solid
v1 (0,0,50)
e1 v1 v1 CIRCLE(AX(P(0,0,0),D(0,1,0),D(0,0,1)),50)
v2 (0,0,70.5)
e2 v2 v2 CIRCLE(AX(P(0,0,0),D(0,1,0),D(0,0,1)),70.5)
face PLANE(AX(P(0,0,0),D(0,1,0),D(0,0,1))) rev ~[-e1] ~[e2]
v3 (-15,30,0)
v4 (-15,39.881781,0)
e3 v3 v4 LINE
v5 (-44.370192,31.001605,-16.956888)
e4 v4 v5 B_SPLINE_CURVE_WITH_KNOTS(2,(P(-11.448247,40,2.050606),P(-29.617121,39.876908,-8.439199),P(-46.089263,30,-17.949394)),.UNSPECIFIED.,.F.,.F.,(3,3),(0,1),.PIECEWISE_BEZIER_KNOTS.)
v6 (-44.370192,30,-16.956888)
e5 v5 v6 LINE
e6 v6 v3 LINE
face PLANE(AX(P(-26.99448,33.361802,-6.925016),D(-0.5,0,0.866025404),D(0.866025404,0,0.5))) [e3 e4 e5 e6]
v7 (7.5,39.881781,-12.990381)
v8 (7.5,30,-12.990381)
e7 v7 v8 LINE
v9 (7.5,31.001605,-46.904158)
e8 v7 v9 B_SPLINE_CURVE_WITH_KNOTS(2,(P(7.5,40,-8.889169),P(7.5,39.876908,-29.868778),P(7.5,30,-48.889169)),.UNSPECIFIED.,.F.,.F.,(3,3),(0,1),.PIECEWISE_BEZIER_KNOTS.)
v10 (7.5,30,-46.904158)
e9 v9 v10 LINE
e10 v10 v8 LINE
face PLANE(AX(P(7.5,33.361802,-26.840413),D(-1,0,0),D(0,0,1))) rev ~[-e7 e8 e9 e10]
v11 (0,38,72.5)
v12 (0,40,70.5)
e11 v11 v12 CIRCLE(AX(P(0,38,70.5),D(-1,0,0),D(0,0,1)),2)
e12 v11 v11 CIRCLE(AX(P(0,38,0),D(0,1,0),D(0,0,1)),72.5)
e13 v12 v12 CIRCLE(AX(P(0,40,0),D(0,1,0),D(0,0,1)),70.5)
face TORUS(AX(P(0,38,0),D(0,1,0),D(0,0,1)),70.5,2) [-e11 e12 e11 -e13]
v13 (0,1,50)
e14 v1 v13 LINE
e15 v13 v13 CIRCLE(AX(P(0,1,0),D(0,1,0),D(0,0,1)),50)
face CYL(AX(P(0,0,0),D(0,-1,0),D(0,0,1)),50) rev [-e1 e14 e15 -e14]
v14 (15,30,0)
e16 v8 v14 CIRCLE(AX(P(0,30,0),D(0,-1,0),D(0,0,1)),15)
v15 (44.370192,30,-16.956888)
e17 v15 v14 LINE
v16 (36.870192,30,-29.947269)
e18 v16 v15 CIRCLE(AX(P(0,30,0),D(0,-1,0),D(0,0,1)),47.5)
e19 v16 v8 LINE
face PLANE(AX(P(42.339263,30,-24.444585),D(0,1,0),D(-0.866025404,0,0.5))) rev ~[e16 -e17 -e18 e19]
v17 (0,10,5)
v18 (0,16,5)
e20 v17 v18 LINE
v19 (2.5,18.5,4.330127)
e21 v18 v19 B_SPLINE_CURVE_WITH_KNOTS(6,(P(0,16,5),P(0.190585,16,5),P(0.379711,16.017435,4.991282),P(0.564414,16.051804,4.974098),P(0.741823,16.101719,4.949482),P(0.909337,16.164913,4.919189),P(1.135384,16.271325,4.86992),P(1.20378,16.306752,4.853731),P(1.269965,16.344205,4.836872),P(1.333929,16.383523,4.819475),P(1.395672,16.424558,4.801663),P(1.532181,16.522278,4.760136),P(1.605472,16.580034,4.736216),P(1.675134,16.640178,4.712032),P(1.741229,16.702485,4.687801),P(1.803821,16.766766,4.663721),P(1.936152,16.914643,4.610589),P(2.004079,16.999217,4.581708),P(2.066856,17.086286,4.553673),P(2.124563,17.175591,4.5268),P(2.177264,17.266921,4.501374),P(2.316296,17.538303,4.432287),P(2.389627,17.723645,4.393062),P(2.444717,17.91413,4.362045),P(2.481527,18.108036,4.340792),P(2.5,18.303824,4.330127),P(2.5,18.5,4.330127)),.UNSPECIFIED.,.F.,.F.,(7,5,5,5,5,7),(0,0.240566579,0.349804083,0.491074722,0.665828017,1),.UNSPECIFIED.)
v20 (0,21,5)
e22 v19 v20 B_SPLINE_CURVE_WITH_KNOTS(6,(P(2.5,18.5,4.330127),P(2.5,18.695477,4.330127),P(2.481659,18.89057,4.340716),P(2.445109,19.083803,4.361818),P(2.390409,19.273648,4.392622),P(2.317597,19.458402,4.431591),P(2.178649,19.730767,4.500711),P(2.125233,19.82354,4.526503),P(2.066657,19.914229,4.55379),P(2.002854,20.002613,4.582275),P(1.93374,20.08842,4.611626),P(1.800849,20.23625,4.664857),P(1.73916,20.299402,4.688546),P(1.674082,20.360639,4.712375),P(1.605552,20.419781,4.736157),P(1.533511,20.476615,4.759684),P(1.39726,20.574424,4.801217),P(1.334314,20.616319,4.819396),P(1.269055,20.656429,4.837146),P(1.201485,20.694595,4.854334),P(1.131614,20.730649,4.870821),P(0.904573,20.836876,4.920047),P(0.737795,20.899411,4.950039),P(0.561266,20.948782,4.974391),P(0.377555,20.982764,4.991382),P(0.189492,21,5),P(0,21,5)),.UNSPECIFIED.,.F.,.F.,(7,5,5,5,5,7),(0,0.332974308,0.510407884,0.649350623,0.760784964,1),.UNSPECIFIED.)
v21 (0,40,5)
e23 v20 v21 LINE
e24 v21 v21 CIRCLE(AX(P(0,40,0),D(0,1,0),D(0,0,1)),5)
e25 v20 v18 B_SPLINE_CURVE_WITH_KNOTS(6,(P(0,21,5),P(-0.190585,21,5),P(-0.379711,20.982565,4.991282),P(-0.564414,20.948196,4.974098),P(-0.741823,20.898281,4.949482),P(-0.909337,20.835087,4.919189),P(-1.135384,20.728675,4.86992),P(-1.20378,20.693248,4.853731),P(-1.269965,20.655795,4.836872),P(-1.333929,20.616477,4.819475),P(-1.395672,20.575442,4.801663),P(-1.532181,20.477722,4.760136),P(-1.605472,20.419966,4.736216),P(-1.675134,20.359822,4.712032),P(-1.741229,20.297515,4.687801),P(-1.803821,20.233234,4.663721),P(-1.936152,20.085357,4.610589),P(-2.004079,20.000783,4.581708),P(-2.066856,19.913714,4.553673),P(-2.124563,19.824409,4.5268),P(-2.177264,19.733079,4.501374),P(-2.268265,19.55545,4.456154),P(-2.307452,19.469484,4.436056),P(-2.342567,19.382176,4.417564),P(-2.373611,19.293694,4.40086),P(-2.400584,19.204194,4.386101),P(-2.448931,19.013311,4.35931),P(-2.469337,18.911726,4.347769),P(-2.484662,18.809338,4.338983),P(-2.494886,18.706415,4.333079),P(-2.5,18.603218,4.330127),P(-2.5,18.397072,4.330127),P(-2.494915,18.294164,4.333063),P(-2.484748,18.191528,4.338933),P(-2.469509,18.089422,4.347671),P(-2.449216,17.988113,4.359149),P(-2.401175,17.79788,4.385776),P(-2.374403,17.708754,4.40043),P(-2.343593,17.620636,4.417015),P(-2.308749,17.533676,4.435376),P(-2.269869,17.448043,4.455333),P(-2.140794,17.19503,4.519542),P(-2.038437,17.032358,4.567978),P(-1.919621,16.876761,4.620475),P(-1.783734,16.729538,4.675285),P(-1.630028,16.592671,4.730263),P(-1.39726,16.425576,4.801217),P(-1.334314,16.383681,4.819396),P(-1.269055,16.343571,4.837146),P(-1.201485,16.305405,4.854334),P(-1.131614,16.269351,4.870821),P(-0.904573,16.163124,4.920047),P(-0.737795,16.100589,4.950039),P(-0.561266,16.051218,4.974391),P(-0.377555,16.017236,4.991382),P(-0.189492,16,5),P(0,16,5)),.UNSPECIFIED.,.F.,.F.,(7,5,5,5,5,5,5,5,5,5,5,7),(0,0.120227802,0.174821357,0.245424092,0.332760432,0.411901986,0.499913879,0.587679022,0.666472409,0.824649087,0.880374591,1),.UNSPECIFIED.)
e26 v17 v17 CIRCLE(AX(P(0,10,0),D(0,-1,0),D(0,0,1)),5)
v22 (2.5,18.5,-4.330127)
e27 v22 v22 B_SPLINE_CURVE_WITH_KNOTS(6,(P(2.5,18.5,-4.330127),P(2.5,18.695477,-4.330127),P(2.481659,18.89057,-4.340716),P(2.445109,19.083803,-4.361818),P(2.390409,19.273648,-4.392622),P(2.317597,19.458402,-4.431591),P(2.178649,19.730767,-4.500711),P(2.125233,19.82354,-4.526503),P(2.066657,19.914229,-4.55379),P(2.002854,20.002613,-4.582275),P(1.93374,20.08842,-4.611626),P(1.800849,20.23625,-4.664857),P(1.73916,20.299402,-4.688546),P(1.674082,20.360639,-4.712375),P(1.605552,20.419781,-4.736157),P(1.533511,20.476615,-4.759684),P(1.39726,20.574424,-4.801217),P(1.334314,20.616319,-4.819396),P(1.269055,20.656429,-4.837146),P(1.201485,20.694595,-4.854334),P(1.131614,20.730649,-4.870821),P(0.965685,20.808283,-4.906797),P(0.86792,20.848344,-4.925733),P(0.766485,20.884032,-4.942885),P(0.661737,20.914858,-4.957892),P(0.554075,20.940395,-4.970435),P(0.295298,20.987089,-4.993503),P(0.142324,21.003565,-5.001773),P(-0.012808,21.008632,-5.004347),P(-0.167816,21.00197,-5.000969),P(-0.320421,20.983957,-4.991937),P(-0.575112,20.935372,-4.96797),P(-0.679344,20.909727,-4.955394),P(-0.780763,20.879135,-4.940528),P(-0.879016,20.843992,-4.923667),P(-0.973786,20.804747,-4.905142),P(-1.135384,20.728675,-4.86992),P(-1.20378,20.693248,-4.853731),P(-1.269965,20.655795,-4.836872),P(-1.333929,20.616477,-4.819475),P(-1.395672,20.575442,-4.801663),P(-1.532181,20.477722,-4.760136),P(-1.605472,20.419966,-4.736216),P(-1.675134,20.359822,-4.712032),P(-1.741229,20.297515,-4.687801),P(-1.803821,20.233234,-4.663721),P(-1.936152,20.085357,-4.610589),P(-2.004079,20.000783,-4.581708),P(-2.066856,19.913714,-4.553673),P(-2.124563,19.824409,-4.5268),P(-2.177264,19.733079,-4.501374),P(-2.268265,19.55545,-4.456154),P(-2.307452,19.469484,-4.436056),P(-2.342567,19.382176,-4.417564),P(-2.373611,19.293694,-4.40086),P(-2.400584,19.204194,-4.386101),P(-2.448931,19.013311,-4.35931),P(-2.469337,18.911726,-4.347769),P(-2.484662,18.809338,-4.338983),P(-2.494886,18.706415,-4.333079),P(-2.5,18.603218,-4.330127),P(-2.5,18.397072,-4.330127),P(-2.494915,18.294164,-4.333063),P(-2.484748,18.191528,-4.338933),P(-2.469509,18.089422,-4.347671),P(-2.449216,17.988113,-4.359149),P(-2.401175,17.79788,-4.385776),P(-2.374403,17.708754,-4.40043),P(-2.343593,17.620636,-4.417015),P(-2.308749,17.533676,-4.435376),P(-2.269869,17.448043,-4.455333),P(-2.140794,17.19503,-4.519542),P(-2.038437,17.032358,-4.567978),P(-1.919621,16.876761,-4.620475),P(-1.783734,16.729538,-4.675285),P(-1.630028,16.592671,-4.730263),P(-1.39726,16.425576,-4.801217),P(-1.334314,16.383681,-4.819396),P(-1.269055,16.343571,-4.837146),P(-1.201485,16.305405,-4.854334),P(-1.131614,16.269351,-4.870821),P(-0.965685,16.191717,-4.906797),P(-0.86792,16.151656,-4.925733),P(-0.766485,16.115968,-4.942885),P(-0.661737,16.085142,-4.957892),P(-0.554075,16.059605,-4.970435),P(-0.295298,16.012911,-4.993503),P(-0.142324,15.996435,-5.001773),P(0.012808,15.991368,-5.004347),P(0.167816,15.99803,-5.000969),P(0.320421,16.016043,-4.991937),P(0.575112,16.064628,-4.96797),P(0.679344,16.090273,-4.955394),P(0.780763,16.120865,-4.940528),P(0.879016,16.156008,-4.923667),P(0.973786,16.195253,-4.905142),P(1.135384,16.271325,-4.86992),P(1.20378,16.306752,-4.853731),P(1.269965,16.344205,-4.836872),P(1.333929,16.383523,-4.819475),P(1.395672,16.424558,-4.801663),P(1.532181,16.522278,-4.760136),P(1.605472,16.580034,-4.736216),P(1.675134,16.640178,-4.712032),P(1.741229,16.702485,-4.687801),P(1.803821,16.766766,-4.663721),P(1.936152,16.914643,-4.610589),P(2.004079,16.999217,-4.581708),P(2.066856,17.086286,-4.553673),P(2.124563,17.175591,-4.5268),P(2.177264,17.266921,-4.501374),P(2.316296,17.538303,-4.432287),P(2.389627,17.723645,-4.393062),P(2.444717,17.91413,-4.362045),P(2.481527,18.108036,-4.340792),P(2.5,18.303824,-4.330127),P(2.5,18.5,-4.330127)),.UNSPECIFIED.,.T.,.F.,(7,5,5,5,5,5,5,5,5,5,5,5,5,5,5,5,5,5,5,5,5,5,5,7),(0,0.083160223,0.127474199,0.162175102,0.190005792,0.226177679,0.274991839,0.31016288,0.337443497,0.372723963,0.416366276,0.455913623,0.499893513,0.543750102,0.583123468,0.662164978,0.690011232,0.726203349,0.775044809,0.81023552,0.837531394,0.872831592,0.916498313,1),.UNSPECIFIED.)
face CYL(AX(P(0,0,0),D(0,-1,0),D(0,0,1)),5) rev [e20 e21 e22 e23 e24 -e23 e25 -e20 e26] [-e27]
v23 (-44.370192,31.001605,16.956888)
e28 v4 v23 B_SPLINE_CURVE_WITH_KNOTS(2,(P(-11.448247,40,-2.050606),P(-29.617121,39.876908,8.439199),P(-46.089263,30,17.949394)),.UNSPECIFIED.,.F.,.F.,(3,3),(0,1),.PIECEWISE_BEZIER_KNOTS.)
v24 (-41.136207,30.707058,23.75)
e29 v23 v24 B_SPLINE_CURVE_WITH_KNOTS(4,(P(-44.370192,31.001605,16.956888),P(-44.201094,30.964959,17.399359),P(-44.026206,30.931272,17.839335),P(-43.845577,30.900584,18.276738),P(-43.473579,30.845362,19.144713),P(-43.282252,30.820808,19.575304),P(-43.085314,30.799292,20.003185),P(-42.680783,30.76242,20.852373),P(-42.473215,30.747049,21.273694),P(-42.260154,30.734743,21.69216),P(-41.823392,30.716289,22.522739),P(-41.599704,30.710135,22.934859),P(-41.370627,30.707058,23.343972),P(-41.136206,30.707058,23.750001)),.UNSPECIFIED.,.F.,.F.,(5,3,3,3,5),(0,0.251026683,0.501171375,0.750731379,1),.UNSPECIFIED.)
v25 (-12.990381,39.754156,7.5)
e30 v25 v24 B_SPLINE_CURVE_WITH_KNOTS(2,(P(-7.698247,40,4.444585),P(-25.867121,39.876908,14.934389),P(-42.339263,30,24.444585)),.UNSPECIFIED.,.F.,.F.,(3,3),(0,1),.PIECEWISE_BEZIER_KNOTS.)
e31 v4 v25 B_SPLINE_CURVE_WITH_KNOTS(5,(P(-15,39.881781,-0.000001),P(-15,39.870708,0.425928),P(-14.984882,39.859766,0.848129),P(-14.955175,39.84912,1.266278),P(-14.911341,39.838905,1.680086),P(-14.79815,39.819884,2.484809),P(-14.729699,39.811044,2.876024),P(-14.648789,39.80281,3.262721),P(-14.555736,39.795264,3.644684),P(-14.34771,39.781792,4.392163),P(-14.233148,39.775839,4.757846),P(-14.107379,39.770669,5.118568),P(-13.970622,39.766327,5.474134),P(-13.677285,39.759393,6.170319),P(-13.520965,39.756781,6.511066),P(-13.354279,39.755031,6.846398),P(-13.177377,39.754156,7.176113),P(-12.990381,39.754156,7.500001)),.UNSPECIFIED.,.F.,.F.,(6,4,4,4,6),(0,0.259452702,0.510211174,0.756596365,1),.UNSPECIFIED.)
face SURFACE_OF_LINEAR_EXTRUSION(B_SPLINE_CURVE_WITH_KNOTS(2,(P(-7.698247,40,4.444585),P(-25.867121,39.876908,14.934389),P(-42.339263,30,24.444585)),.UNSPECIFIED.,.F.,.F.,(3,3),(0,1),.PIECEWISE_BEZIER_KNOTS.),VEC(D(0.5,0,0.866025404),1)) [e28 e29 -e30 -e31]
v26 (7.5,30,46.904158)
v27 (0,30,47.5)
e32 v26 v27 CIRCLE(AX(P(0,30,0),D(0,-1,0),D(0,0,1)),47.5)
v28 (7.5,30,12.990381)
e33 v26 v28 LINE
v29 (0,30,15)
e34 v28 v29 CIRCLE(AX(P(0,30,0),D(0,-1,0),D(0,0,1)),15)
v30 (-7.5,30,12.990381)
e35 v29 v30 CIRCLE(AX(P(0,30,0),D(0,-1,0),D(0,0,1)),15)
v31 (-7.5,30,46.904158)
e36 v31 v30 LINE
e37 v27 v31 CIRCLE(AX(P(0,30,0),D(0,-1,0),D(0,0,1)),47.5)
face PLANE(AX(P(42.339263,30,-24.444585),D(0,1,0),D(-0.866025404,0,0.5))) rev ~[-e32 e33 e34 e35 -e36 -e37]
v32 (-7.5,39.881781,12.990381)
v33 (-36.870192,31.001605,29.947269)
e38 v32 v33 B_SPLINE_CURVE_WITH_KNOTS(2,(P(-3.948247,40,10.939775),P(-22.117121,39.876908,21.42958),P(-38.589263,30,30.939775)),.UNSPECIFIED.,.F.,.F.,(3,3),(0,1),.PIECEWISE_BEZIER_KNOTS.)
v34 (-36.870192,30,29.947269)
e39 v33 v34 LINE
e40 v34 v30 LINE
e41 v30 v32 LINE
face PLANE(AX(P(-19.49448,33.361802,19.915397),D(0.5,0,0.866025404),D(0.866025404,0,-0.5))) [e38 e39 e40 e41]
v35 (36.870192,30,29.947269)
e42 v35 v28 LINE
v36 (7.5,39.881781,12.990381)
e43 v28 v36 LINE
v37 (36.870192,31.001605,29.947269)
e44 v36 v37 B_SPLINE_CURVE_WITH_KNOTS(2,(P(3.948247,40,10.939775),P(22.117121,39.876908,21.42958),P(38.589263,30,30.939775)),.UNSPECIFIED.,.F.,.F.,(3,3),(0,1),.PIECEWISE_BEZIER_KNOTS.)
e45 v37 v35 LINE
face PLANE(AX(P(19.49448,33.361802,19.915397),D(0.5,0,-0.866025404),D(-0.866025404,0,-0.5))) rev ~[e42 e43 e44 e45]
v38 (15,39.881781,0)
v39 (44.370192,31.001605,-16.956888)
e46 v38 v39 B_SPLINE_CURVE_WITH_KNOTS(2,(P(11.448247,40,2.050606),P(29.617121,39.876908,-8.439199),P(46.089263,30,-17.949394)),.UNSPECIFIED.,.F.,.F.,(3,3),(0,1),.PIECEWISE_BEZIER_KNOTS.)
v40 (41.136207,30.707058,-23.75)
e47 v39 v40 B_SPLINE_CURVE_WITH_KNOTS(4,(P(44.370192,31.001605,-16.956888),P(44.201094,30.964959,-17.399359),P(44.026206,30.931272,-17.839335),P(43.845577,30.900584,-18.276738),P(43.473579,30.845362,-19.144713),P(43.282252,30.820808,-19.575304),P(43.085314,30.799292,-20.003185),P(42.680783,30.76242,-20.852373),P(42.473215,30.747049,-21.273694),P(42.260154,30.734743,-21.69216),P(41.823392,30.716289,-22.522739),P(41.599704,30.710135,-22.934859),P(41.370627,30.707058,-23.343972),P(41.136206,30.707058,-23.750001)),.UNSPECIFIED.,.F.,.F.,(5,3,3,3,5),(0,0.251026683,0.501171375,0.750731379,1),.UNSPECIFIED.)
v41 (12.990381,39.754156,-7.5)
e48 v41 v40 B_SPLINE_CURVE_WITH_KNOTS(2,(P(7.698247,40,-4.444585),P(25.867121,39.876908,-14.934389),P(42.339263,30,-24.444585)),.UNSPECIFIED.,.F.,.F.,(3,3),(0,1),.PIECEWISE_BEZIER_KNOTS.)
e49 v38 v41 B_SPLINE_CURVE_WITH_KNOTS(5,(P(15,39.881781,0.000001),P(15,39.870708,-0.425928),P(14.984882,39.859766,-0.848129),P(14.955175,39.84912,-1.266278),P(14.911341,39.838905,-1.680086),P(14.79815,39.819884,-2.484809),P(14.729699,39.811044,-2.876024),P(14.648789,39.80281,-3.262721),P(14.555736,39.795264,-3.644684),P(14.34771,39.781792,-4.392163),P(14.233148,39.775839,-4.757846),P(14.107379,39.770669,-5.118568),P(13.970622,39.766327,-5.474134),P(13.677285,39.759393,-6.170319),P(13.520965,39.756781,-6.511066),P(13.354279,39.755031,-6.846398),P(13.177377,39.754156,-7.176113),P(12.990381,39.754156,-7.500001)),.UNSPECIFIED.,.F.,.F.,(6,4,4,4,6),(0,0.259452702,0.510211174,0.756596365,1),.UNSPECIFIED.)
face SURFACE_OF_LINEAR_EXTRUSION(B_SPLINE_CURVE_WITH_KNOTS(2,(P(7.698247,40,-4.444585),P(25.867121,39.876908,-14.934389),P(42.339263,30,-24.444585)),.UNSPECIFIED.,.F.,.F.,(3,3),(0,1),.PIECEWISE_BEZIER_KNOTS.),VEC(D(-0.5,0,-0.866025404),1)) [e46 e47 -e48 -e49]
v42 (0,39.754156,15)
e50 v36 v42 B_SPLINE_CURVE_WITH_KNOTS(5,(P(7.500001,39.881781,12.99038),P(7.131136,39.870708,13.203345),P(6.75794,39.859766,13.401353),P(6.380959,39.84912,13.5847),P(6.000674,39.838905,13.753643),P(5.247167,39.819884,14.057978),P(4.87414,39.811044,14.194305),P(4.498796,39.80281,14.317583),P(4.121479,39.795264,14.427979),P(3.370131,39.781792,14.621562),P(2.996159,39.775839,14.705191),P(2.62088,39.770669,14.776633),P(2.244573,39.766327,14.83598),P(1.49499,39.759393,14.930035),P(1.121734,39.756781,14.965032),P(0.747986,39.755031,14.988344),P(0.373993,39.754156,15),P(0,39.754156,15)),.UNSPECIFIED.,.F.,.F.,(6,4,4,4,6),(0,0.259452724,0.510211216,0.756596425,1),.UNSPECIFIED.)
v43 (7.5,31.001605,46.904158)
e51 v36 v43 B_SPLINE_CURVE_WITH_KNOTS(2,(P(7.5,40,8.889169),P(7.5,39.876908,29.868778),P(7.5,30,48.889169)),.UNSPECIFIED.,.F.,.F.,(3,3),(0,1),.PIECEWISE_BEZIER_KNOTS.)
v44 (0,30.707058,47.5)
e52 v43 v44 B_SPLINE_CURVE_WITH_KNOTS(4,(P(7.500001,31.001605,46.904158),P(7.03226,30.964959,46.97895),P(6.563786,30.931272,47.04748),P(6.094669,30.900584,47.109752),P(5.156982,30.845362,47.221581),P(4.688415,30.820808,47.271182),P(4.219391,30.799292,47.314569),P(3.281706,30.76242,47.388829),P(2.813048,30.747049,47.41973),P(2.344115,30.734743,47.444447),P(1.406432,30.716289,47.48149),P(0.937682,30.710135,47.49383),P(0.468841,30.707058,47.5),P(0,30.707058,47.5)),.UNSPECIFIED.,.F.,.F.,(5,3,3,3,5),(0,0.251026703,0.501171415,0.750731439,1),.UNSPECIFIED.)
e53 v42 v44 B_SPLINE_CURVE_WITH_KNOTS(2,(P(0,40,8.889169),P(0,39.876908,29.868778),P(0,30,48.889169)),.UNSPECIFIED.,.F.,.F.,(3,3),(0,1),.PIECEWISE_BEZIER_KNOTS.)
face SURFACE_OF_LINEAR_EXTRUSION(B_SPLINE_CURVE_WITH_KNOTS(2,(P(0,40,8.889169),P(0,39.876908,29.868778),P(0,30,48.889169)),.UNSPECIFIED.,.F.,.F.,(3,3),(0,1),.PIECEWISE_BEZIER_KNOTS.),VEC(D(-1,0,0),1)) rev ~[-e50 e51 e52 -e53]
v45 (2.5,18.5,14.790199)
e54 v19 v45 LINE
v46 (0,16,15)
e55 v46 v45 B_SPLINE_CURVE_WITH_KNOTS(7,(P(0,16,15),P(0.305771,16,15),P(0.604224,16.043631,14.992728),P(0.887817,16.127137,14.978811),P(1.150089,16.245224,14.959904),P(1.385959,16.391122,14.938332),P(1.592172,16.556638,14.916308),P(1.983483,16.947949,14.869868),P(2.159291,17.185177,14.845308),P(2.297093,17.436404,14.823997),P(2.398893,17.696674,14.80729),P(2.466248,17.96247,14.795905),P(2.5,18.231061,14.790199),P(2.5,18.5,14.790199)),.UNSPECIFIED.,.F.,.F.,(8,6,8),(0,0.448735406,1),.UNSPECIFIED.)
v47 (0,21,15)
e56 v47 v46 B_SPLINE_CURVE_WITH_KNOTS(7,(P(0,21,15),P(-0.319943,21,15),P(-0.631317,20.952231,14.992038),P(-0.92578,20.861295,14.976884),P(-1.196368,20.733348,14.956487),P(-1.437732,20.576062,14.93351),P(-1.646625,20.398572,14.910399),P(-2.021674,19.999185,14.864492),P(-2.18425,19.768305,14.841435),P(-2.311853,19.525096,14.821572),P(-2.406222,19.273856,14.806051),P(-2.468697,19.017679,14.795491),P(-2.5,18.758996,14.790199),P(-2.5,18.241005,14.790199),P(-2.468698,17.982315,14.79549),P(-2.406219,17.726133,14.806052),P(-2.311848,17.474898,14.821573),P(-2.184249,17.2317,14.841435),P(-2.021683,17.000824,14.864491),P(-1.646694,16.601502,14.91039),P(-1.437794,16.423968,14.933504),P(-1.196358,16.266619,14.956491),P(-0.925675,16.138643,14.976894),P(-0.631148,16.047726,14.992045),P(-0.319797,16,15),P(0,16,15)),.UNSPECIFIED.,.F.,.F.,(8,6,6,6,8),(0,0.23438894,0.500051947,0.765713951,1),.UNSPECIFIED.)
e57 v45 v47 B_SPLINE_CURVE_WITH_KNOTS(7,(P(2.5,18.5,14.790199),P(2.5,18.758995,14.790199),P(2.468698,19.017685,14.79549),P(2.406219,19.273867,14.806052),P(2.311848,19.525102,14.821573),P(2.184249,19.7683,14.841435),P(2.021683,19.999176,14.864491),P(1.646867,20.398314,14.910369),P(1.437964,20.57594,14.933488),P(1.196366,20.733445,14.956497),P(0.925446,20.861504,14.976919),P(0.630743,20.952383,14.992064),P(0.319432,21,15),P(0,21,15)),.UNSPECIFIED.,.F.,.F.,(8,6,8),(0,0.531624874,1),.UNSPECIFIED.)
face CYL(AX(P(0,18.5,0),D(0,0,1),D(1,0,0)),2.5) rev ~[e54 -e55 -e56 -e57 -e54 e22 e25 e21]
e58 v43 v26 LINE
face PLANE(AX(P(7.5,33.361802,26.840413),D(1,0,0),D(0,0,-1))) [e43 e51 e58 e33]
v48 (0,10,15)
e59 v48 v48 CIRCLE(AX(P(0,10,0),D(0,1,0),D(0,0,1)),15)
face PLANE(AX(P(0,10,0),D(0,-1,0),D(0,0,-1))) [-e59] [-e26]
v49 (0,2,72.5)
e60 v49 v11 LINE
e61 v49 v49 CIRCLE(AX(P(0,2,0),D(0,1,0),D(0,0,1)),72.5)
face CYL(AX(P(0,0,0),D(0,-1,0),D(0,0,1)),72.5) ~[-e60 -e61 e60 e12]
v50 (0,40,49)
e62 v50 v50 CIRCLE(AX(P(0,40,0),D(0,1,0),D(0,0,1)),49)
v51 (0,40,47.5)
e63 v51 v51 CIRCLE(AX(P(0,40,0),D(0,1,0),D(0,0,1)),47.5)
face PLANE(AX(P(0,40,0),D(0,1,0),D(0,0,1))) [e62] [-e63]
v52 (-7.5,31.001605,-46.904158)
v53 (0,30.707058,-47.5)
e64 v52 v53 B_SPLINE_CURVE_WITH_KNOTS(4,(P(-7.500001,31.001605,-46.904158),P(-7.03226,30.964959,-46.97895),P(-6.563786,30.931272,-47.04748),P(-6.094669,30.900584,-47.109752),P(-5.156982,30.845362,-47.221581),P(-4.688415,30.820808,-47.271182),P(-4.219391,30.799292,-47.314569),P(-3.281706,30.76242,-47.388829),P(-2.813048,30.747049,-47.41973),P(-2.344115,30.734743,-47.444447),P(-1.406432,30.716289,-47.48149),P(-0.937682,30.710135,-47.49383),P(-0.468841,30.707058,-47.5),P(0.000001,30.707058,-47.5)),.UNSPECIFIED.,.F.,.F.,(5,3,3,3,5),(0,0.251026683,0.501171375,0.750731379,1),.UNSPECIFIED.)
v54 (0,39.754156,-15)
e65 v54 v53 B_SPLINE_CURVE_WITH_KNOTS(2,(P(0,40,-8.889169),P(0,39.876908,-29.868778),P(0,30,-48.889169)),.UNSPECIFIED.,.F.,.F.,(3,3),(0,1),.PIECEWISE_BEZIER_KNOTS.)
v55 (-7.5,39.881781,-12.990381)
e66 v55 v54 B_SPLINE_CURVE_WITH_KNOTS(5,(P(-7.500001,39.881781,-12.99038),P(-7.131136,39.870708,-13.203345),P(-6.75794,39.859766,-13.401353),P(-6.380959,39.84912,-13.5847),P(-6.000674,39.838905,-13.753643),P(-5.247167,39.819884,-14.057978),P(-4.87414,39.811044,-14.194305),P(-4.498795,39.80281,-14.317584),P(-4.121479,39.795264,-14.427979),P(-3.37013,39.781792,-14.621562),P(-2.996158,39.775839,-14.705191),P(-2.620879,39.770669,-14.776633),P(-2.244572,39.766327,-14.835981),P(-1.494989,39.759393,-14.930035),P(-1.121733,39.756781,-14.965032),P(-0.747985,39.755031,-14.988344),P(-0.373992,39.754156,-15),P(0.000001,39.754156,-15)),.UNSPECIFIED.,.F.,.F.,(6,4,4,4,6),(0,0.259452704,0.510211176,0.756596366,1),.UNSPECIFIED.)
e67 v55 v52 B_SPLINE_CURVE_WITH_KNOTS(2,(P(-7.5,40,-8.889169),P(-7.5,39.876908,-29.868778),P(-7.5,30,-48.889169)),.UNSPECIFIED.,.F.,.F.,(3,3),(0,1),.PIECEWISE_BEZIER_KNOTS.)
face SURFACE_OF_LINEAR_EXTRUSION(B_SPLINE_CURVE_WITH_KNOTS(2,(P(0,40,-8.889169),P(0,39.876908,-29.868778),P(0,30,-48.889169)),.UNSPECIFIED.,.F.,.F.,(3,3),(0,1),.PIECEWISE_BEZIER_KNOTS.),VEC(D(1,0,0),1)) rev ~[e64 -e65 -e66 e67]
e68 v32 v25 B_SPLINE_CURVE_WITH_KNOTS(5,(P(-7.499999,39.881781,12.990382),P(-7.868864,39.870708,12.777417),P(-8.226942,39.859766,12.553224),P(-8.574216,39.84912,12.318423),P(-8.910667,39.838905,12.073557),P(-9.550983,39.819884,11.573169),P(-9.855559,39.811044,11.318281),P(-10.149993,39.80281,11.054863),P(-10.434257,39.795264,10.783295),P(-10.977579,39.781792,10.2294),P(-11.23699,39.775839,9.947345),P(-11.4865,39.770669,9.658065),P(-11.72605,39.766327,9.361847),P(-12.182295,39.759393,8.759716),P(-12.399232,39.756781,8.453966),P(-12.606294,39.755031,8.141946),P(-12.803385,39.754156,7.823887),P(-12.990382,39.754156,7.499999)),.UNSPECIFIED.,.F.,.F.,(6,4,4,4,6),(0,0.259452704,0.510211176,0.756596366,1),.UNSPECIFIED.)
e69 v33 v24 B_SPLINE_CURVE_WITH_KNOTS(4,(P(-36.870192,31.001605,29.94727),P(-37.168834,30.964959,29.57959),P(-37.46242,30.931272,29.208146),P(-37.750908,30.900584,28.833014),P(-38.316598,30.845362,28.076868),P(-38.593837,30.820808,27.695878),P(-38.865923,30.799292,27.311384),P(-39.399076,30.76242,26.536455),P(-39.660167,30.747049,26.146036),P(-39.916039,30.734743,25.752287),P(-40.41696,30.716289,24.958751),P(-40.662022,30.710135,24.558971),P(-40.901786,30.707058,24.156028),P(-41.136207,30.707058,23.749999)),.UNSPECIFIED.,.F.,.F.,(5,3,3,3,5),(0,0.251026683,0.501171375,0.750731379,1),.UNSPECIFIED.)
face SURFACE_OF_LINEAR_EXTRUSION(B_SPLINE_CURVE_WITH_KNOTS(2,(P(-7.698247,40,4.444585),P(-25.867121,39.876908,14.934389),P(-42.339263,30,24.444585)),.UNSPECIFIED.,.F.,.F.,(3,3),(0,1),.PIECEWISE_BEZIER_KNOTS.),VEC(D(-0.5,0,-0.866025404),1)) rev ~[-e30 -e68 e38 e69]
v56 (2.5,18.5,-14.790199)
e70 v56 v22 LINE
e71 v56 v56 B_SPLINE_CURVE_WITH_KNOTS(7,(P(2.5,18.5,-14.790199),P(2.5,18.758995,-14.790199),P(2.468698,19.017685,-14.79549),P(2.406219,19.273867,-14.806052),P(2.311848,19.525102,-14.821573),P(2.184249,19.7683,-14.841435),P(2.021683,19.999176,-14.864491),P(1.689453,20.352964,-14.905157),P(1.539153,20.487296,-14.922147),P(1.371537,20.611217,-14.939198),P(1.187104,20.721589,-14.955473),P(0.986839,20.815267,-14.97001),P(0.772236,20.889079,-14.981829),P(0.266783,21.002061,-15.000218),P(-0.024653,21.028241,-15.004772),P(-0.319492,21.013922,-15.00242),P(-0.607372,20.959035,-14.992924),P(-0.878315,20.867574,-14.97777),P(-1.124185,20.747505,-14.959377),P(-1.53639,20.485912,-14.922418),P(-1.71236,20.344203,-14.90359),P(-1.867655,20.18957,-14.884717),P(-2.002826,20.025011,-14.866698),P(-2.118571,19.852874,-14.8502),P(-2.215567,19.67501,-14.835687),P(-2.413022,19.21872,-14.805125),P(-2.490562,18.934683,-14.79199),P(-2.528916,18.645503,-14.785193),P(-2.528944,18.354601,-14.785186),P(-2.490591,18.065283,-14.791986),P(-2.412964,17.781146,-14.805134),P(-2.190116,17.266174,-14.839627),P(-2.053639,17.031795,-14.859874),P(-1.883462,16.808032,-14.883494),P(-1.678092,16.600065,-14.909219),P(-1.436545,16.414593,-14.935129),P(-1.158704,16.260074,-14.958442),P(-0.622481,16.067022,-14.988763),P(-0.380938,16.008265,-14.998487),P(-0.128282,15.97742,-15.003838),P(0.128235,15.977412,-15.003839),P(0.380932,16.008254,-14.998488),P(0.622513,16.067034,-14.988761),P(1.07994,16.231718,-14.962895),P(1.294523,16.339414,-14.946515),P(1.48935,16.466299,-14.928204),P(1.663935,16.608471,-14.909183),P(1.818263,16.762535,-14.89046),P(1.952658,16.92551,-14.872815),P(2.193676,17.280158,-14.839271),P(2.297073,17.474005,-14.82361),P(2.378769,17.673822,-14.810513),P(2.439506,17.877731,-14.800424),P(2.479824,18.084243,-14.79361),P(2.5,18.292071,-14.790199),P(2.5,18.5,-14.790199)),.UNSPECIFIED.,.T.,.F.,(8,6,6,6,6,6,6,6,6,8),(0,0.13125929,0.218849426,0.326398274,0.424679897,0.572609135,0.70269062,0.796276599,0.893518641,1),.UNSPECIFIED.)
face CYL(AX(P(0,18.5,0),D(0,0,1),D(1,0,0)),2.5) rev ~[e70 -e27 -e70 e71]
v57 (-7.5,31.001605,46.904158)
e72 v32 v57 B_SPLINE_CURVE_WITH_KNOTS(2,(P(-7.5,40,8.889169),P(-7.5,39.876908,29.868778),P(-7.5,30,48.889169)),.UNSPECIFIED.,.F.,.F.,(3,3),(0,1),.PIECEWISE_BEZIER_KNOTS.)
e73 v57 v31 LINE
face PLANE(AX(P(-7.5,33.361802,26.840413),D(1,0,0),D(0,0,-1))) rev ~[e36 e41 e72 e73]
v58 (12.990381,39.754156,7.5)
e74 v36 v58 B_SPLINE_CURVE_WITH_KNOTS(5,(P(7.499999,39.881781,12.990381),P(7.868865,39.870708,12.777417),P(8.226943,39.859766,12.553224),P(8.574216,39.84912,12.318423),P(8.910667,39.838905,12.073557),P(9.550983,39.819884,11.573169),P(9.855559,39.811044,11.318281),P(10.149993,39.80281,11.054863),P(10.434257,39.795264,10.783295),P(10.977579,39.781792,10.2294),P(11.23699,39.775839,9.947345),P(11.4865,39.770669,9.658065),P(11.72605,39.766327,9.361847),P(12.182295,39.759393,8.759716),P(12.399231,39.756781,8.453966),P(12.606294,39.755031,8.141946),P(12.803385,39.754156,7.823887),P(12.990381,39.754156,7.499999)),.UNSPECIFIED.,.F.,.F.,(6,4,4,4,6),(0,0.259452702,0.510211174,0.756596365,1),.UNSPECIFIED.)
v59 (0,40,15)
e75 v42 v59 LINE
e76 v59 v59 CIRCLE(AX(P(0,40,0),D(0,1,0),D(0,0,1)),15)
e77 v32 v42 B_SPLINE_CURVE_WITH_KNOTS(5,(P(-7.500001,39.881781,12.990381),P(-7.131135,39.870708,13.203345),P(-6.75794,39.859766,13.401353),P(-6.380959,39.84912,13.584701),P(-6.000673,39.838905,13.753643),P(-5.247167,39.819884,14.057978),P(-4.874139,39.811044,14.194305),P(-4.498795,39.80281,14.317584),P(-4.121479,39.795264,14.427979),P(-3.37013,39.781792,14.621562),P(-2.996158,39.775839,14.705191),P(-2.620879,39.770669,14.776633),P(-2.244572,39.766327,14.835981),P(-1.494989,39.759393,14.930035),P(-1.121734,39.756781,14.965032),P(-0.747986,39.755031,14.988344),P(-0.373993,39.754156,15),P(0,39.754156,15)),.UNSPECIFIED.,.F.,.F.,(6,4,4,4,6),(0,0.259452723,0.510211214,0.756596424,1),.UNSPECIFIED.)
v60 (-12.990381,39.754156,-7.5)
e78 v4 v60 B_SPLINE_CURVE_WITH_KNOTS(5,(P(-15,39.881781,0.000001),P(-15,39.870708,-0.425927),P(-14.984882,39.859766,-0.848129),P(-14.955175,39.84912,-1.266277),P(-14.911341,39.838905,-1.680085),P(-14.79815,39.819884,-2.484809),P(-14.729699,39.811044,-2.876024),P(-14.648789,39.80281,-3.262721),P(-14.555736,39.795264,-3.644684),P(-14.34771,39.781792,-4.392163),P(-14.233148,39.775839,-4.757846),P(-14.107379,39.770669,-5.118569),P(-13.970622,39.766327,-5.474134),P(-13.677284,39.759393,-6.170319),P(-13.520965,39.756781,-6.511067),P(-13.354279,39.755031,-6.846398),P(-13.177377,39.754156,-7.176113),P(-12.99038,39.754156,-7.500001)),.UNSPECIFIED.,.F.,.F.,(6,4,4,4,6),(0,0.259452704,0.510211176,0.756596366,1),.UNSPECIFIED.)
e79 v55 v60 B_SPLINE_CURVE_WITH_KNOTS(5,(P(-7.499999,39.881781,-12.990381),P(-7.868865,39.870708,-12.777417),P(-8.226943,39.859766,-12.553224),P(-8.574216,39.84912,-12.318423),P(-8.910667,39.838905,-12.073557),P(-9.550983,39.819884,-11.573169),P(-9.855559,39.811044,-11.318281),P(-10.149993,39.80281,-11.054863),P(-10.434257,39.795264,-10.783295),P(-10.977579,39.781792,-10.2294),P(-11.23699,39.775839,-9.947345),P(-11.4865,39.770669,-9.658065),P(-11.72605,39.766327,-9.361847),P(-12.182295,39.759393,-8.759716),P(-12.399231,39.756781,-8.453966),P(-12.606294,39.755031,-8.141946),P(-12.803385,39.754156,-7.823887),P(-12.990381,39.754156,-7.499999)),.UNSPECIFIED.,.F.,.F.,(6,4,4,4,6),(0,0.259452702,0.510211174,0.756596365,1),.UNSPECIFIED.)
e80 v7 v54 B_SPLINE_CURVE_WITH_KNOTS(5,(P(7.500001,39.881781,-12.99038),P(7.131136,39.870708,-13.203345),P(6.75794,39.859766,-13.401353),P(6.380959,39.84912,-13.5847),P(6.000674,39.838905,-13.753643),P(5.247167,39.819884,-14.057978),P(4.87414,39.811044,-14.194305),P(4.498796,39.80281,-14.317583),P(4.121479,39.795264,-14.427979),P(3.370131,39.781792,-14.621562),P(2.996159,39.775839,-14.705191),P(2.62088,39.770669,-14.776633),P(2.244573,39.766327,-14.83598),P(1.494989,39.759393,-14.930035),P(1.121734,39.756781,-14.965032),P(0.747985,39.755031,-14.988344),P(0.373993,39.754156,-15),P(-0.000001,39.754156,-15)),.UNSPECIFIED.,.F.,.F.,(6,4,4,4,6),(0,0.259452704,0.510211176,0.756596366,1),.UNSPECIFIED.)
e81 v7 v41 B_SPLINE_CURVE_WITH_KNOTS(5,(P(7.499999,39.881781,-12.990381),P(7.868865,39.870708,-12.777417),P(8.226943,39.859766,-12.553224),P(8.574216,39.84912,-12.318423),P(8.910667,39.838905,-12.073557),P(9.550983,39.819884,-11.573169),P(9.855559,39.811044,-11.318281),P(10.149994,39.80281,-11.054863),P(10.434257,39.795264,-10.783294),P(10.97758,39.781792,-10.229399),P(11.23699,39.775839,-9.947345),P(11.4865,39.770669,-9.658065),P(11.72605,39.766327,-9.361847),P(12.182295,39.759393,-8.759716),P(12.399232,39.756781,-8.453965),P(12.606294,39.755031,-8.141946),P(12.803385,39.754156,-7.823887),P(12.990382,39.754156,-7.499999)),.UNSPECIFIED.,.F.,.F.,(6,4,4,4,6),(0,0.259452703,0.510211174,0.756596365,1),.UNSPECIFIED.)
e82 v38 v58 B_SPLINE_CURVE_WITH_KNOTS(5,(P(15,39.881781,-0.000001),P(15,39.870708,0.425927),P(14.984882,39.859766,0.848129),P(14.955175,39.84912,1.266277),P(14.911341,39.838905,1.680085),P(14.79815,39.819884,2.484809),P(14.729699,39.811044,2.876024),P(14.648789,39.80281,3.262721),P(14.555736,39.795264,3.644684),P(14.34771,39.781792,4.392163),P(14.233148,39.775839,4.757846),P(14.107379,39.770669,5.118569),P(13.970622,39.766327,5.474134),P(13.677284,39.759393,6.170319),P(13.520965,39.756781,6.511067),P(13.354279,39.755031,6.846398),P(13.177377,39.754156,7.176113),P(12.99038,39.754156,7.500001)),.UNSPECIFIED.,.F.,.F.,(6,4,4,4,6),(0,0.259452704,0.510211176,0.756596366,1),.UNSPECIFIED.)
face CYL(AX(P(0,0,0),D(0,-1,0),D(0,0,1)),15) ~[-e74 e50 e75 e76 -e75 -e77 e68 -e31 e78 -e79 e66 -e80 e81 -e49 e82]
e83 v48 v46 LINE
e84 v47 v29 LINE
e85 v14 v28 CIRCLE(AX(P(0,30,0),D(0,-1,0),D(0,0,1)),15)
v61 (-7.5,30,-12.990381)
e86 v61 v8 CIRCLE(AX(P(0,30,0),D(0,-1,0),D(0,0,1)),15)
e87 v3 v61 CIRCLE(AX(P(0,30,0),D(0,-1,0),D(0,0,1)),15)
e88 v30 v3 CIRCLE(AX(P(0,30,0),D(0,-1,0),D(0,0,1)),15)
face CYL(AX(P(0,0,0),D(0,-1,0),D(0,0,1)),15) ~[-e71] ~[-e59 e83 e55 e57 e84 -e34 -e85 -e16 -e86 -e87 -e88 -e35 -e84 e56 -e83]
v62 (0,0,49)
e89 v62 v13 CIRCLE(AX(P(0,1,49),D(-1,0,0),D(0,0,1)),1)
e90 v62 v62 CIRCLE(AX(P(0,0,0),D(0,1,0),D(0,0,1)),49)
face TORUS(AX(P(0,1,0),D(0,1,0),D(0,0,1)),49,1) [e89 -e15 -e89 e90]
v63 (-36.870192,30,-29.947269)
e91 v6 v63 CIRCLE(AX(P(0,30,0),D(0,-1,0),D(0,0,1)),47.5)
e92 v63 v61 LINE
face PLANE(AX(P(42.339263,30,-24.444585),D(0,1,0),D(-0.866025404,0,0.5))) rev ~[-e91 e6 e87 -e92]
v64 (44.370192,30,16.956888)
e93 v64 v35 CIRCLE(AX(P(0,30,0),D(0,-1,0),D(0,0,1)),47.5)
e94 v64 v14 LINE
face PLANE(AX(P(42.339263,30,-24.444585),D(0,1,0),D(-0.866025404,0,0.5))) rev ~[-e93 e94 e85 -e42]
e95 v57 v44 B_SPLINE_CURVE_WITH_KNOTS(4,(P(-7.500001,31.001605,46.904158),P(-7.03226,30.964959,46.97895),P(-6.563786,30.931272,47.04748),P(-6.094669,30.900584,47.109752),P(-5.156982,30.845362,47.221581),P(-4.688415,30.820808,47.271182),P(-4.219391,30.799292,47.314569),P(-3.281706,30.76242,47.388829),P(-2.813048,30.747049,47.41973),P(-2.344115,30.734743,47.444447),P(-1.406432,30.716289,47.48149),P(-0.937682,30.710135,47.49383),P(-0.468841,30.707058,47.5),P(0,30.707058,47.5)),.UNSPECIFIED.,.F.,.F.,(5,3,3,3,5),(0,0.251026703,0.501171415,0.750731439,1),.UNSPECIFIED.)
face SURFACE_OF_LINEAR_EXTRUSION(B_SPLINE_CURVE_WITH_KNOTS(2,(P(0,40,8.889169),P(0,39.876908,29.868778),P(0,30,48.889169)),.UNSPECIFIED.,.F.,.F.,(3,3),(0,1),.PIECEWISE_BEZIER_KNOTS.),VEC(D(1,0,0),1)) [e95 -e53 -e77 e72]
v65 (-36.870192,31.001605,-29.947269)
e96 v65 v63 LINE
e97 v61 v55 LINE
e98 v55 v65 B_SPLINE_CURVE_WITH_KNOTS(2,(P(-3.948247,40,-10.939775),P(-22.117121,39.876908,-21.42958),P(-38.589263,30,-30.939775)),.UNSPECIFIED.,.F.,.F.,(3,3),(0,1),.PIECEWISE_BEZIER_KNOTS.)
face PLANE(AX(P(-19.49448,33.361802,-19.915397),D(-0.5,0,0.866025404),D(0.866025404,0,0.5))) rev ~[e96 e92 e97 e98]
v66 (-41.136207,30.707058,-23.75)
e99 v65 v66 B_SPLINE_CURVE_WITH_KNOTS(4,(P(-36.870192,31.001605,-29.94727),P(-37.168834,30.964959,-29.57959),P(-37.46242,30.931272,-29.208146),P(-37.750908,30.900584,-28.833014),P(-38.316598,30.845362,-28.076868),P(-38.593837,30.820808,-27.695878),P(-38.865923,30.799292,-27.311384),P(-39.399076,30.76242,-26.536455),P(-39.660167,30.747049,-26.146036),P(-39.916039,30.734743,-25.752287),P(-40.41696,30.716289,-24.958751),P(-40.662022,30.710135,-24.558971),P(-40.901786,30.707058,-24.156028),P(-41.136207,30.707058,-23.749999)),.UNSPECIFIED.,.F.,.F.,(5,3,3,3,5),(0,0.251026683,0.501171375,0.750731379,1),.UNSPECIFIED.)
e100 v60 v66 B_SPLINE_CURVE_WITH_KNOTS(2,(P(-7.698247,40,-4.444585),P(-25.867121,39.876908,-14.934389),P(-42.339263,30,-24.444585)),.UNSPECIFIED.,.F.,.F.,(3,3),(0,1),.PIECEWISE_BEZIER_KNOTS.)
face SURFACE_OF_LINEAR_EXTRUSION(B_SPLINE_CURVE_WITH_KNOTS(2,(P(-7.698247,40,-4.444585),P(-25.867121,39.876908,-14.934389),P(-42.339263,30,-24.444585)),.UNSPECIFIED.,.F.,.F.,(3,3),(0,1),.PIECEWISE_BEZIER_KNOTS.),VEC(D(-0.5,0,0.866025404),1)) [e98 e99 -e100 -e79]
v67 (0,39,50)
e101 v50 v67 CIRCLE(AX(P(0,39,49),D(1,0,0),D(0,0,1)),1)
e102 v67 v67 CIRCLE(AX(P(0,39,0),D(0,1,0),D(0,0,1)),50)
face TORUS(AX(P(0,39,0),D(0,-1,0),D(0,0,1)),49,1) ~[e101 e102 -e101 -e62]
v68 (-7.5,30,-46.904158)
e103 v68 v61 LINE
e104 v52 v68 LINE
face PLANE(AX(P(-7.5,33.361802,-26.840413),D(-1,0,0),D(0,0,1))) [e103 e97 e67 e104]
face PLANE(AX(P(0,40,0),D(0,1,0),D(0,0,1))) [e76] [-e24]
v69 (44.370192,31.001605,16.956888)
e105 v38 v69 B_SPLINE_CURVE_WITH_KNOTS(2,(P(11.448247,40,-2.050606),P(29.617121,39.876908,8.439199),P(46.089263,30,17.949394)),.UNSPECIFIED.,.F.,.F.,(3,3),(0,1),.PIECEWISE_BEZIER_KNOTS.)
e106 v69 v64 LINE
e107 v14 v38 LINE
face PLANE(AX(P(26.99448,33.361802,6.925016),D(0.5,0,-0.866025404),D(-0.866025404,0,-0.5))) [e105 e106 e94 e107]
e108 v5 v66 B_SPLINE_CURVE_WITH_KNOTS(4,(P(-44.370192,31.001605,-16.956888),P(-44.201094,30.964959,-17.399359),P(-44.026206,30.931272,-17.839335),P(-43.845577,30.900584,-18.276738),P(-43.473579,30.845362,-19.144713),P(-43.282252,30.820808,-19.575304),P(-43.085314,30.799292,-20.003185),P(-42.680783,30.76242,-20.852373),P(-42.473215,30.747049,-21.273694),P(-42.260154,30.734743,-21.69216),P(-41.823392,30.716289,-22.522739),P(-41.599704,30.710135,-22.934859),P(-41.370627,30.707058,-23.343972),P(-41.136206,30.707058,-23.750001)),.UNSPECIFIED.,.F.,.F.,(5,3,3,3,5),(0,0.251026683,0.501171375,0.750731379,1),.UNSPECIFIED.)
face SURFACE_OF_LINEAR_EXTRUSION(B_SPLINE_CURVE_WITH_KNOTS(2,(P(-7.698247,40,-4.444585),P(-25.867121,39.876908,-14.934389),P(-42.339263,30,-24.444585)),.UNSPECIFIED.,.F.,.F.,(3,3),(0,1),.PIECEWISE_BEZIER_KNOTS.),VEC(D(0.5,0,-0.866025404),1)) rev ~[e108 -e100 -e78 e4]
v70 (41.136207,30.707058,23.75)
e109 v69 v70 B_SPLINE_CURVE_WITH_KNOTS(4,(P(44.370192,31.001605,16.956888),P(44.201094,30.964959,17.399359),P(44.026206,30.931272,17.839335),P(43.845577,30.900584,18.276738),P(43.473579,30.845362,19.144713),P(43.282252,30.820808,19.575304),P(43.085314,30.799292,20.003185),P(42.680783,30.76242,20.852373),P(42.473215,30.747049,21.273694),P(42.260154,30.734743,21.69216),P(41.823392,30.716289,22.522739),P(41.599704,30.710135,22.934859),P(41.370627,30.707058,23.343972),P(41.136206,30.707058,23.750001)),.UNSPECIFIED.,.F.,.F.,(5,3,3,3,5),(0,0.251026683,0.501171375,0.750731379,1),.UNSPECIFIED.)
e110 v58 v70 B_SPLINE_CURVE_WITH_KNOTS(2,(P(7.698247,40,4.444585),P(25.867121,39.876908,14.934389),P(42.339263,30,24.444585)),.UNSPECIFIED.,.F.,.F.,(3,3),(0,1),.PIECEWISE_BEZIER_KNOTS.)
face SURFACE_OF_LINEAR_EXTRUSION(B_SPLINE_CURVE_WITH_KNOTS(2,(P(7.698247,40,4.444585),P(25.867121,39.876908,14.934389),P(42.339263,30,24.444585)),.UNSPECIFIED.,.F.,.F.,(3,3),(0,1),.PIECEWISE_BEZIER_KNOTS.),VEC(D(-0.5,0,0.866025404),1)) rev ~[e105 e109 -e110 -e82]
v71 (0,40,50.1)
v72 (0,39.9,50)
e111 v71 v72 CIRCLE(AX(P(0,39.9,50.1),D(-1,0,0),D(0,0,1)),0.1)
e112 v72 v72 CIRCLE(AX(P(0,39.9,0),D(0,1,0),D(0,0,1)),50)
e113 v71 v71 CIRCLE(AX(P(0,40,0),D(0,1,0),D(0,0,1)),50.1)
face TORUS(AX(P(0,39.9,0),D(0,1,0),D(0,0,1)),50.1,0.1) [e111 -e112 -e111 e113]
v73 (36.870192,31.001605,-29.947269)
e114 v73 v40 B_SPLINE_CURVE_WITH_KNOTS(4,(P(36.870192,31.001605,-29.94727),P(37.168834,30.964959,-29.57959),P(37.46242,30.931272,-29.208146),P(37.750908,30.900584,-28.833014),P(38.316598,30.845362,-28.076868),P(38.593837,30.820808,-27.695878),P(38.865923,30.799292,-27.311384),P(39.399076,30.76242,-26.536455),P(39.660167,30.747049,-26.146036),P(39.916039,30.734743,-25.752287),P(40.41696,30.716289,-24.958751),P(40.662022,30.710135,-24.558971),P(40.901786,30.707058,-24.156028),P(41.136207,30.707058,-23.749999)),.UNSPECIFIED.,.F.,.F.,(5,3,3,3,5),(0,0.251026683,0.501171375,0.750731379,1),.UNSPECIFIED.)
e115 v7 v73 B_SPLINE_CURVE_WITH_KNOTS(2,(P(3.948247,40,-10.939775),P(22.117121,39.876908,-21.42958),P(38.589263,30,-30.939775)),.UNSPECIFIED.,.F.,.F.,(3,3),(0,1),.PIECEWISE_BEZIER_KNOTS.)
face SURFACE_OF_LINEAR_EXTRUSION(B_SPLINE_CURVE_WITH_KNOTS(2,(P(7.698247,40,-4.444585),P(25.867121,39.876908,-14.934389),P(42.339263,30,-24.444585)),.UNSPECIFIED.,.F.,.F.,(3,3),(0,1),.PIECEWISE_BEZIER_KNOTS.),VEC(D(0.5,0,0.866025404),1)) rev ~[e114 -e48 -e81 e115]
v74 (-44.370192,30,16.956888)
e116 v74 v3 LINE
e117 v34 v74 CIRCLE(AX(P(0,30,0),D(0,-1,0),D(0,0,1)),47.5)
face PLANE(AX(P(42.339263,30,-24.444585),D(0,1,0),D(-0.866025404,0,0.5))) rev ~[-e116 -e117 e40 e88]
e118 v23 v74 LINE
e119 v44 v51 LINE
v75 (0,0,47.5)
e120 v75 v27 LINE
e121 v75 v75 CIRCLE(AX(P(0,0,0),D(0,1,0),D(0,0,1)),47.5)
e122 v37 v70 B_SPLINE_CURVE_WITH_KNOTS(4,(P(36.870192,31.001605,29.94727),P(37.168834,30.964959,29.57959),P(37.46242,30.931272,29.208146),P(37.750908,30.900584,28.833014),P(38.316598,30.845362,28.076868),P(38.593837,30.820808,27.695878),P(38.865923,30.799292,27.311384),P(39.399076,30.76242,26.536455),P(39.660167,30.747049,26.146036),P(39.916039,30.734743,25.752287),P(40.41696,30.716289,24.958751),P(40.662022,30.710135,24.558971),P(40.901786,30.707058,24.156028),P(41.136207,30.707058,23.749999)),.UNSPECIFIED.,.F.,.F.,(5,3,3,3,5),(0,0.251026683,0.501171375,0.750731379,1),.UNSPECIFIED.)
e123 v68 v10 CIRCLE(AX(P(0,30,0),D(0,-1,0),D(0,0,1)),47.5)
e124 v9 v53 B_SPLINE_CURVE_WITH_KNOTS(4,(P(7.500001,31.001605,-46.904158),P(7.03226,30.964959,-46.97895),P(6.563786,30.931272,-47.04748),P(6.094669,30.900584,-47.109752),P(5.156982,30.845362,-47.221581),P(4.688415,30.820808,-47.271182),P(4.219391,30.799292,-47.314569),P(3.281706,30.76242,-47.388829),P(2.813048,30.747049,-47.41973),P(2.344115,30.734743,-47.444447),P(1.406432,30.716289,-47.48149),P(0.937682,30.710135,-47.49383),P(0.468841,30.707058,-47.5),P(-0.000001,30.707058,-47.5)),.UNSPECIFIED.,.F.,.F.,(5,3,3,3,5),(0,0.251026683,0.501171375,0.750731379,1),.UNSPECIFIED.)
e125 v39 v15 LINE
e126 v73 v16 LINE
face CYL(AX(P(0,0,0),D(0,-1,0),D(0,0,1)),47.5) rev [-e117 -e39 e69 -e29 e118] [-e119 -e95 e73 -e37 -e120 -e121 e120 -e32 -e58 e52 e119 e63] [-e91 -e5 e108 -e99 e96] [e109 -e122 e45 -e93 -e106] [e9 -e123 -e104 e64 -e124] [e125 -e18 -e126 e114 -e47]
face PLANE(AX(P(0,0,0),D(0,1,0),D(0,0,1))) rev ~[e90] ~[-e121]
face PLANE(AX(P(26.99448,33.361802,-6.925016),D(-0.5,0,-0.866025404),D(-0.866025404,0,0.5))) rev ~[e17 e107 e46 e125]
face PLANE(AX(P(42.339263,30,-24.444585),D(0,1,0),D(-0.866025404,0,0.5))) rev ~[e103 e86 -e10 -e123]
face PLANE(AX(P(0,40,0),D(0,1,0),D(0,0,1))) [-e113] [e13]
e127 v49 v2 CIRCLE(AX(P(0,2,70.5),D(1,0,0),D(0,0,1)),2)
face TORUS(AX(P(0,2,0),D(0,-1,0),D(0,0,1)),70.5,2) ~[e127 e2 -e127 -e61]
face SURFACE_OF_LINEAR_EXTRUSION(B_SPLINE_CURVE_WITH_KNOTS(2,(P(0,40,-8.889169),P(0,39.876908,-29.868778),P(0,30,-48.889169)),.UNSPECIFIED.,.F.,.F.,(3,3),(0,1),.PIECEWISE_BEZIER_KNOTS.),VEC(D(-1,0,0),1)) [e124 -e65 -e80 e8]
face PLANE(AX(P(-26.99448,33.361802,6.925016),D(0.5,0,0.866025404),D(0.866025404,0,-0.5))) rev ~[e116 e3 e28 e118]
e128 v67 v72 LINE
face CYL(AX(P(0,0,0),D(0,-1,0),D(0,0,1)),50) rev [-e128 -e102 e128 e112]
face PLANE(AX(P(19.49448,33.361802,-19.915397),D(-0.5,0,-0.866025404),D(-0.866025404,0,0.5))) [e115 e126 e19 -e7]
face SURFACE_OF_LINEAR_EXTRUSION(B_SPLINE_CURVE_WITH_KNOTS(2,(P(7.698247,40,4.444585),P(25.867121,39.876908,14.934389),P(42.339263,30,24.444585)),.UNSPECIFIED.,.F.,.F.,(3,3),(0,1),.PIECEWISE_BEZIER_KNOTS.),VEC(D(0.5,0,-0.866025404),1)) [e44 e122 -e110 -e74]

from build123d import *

# Parameters (mm, degrees)
SKETCH1_R             = 50
SKETCH1_R_2           = 47.5
BOSS_EXTRUDE1_DEPTH   = 40
SKETCH1_R_3           = 15
SKETCH1_R_4           = 5
BOSS_EXTRUDE1_2_DEPTH = 40
BOSS_EXTRUDE2_DEPTH   = 7.5
CIRPATTERN1_COUNT     = 6
FILLET1_R             = 1
SKETCH5_R             = 72.5
SKETCH5_R_2           = 50
BOSS_EXTRUDE4_DEPTH   = 40
FILLET2_R             = 2
FILLET3_R             = 0.1
SKETCH7_R             = 15
CUT_EXTRUDE1_DEPTH    = 10
SKETCH8_R             = 2.5
CUT_EXTRUDE2_DEPTH    = 17.5


with BuildPart() as part:
    # Sketch1 → Boss-Extrude1 (new body)
    with BuildSketch(Plane(origin=(0, 0, 0), x_dir=(1, 0, 0), z_dir=(0, 1, 0))):
        with Locations(Location((0, 0, 0), (0, 0, 270))):
            Circle(SKETCH1_R)
        with Locations(Location((0, 0, 0), (0, 0, 270))):
            Circle(SKETCH1_R_2, mode=Mode.SUBTRACT)
    extrude(amount=BOSS_EXTRUDE1_DEPTH)

    # Sketch2 → Boss-Extrude2 (add, symmetric)
    with BuildSketch(Plane(origin=(0, 0, 0), x_dir=(0, 0, -1), z_dir=(1, 0, 0))):
        with BuildLine():
            Line((48.889169482, 30), (8.889169482, 30))
            Line((8.889169482, 30), (8.889169482, 40))
            add(Edge.make_bspline(
                [(8.889169482, 40), (29.868778493, 39.876907844), (48.889169482, 30)],
                knots=[0, 0, 0, 1, 1, 1], degree=2))
        make_face()
    boss_extrude2 = extrude(amount=BOSS_EXTRUDE2_DEPTH, both=True)

    # CirPattern1: Boss-Extrude2 ×6 about axis
    cirpattern1_axis = Axis((0, 40, 0), (0, 1, 0))
    for i in range(1, CIRPATTERN1_COUNT):
        add(boss_extrude2.rotate(cirpattern1_axis, i * 360 / CIRPATTERN1_COUNT))

    # Fillet1
    fillet1_edges = [part.edges().sort_by_distance(p)[0] for p in [
        (0, 40, -50),
        (0, 0, -50),
    ]]
    fillet(fillet1_edges, radius=FILLET1_R)


with BuildPart() as body_2:
    # Sketch1 → Boss-Extrude1 2 (new body)
    with BuildSketch(Plane(origin=(0, 0, 0), x_dir=(1, 0, 0), z_dir=(0, 1, 0))):
        with Locations(Location((0, 0, 0), (0, 0, 270))):
            Circle(SKETCH1_R_3)
        with Locations(Location((0, 0, 0), (0, 0, 270))):
            Circle(SKETCH1_R_4, mode=Mode.SUBTRACT)
    extrude(amount=BOSS_EXTRUDE1_2_DEPTH)


    add(part.part)  # Boss-Extrude4 merges part
    # Sketch5 → Boss-Extrude4 (add)
    with BuildSketch(Plane(origin=(0, 0, 0), x_dir=(1, 0, 0), z_dir=(0, 1, 0))):
        with Locations(Location((0, 0, 0), (0, 0, 270))):
            Circle(SKETCH5_R)
        with Locations(Location((0, 0, 0), (0, 0, 270))):
            Circle(SKETCH5_R_2, mode=Mode.SUBTRACT)
    extrude(amount=BOSS_EXTRUDE4_DEPTH)

    # Fillet2
    fillet2_edges = [body_2.edges().sort_by_distance(p)[0] for p in [
        (0, 40, -72.5),
        (0, 0, -72.5),
    ]]
    fillet(fillet2_edges, radius=FILLET2_R)

    # Fillet3
    fillet3_edges = [body_2.edges().sort_by_distance(p)[0] for p in [
        (0, 40, -50),
    ]]
    fillet(fillet3_edges, radius=FILLET3_R)

    # Sketch7 → Cut-Extrude1 (cut)
    with BuildSketch(Plane.XZ):
        with Locations(Location((0, 0, 0), (0, 0, 270))):
            Circle(SKETCH7_R)
    extrude(amount=-CUT_EXTRUDE1_DEPTH, mode=Mode.SUBTRACT)

    # Sketch8 → Cut-Extrude2 (cut, symmetric)
    with BuildSketch(Plane.XY):
        with Locations((0, 18.5)):
            Circle(SKETCH8_R)
    extrude(amount=CUT_EXTRUDE2_DEPTH, both=True, mode=Mode.SUBTRACT)


solid = body_2.part
